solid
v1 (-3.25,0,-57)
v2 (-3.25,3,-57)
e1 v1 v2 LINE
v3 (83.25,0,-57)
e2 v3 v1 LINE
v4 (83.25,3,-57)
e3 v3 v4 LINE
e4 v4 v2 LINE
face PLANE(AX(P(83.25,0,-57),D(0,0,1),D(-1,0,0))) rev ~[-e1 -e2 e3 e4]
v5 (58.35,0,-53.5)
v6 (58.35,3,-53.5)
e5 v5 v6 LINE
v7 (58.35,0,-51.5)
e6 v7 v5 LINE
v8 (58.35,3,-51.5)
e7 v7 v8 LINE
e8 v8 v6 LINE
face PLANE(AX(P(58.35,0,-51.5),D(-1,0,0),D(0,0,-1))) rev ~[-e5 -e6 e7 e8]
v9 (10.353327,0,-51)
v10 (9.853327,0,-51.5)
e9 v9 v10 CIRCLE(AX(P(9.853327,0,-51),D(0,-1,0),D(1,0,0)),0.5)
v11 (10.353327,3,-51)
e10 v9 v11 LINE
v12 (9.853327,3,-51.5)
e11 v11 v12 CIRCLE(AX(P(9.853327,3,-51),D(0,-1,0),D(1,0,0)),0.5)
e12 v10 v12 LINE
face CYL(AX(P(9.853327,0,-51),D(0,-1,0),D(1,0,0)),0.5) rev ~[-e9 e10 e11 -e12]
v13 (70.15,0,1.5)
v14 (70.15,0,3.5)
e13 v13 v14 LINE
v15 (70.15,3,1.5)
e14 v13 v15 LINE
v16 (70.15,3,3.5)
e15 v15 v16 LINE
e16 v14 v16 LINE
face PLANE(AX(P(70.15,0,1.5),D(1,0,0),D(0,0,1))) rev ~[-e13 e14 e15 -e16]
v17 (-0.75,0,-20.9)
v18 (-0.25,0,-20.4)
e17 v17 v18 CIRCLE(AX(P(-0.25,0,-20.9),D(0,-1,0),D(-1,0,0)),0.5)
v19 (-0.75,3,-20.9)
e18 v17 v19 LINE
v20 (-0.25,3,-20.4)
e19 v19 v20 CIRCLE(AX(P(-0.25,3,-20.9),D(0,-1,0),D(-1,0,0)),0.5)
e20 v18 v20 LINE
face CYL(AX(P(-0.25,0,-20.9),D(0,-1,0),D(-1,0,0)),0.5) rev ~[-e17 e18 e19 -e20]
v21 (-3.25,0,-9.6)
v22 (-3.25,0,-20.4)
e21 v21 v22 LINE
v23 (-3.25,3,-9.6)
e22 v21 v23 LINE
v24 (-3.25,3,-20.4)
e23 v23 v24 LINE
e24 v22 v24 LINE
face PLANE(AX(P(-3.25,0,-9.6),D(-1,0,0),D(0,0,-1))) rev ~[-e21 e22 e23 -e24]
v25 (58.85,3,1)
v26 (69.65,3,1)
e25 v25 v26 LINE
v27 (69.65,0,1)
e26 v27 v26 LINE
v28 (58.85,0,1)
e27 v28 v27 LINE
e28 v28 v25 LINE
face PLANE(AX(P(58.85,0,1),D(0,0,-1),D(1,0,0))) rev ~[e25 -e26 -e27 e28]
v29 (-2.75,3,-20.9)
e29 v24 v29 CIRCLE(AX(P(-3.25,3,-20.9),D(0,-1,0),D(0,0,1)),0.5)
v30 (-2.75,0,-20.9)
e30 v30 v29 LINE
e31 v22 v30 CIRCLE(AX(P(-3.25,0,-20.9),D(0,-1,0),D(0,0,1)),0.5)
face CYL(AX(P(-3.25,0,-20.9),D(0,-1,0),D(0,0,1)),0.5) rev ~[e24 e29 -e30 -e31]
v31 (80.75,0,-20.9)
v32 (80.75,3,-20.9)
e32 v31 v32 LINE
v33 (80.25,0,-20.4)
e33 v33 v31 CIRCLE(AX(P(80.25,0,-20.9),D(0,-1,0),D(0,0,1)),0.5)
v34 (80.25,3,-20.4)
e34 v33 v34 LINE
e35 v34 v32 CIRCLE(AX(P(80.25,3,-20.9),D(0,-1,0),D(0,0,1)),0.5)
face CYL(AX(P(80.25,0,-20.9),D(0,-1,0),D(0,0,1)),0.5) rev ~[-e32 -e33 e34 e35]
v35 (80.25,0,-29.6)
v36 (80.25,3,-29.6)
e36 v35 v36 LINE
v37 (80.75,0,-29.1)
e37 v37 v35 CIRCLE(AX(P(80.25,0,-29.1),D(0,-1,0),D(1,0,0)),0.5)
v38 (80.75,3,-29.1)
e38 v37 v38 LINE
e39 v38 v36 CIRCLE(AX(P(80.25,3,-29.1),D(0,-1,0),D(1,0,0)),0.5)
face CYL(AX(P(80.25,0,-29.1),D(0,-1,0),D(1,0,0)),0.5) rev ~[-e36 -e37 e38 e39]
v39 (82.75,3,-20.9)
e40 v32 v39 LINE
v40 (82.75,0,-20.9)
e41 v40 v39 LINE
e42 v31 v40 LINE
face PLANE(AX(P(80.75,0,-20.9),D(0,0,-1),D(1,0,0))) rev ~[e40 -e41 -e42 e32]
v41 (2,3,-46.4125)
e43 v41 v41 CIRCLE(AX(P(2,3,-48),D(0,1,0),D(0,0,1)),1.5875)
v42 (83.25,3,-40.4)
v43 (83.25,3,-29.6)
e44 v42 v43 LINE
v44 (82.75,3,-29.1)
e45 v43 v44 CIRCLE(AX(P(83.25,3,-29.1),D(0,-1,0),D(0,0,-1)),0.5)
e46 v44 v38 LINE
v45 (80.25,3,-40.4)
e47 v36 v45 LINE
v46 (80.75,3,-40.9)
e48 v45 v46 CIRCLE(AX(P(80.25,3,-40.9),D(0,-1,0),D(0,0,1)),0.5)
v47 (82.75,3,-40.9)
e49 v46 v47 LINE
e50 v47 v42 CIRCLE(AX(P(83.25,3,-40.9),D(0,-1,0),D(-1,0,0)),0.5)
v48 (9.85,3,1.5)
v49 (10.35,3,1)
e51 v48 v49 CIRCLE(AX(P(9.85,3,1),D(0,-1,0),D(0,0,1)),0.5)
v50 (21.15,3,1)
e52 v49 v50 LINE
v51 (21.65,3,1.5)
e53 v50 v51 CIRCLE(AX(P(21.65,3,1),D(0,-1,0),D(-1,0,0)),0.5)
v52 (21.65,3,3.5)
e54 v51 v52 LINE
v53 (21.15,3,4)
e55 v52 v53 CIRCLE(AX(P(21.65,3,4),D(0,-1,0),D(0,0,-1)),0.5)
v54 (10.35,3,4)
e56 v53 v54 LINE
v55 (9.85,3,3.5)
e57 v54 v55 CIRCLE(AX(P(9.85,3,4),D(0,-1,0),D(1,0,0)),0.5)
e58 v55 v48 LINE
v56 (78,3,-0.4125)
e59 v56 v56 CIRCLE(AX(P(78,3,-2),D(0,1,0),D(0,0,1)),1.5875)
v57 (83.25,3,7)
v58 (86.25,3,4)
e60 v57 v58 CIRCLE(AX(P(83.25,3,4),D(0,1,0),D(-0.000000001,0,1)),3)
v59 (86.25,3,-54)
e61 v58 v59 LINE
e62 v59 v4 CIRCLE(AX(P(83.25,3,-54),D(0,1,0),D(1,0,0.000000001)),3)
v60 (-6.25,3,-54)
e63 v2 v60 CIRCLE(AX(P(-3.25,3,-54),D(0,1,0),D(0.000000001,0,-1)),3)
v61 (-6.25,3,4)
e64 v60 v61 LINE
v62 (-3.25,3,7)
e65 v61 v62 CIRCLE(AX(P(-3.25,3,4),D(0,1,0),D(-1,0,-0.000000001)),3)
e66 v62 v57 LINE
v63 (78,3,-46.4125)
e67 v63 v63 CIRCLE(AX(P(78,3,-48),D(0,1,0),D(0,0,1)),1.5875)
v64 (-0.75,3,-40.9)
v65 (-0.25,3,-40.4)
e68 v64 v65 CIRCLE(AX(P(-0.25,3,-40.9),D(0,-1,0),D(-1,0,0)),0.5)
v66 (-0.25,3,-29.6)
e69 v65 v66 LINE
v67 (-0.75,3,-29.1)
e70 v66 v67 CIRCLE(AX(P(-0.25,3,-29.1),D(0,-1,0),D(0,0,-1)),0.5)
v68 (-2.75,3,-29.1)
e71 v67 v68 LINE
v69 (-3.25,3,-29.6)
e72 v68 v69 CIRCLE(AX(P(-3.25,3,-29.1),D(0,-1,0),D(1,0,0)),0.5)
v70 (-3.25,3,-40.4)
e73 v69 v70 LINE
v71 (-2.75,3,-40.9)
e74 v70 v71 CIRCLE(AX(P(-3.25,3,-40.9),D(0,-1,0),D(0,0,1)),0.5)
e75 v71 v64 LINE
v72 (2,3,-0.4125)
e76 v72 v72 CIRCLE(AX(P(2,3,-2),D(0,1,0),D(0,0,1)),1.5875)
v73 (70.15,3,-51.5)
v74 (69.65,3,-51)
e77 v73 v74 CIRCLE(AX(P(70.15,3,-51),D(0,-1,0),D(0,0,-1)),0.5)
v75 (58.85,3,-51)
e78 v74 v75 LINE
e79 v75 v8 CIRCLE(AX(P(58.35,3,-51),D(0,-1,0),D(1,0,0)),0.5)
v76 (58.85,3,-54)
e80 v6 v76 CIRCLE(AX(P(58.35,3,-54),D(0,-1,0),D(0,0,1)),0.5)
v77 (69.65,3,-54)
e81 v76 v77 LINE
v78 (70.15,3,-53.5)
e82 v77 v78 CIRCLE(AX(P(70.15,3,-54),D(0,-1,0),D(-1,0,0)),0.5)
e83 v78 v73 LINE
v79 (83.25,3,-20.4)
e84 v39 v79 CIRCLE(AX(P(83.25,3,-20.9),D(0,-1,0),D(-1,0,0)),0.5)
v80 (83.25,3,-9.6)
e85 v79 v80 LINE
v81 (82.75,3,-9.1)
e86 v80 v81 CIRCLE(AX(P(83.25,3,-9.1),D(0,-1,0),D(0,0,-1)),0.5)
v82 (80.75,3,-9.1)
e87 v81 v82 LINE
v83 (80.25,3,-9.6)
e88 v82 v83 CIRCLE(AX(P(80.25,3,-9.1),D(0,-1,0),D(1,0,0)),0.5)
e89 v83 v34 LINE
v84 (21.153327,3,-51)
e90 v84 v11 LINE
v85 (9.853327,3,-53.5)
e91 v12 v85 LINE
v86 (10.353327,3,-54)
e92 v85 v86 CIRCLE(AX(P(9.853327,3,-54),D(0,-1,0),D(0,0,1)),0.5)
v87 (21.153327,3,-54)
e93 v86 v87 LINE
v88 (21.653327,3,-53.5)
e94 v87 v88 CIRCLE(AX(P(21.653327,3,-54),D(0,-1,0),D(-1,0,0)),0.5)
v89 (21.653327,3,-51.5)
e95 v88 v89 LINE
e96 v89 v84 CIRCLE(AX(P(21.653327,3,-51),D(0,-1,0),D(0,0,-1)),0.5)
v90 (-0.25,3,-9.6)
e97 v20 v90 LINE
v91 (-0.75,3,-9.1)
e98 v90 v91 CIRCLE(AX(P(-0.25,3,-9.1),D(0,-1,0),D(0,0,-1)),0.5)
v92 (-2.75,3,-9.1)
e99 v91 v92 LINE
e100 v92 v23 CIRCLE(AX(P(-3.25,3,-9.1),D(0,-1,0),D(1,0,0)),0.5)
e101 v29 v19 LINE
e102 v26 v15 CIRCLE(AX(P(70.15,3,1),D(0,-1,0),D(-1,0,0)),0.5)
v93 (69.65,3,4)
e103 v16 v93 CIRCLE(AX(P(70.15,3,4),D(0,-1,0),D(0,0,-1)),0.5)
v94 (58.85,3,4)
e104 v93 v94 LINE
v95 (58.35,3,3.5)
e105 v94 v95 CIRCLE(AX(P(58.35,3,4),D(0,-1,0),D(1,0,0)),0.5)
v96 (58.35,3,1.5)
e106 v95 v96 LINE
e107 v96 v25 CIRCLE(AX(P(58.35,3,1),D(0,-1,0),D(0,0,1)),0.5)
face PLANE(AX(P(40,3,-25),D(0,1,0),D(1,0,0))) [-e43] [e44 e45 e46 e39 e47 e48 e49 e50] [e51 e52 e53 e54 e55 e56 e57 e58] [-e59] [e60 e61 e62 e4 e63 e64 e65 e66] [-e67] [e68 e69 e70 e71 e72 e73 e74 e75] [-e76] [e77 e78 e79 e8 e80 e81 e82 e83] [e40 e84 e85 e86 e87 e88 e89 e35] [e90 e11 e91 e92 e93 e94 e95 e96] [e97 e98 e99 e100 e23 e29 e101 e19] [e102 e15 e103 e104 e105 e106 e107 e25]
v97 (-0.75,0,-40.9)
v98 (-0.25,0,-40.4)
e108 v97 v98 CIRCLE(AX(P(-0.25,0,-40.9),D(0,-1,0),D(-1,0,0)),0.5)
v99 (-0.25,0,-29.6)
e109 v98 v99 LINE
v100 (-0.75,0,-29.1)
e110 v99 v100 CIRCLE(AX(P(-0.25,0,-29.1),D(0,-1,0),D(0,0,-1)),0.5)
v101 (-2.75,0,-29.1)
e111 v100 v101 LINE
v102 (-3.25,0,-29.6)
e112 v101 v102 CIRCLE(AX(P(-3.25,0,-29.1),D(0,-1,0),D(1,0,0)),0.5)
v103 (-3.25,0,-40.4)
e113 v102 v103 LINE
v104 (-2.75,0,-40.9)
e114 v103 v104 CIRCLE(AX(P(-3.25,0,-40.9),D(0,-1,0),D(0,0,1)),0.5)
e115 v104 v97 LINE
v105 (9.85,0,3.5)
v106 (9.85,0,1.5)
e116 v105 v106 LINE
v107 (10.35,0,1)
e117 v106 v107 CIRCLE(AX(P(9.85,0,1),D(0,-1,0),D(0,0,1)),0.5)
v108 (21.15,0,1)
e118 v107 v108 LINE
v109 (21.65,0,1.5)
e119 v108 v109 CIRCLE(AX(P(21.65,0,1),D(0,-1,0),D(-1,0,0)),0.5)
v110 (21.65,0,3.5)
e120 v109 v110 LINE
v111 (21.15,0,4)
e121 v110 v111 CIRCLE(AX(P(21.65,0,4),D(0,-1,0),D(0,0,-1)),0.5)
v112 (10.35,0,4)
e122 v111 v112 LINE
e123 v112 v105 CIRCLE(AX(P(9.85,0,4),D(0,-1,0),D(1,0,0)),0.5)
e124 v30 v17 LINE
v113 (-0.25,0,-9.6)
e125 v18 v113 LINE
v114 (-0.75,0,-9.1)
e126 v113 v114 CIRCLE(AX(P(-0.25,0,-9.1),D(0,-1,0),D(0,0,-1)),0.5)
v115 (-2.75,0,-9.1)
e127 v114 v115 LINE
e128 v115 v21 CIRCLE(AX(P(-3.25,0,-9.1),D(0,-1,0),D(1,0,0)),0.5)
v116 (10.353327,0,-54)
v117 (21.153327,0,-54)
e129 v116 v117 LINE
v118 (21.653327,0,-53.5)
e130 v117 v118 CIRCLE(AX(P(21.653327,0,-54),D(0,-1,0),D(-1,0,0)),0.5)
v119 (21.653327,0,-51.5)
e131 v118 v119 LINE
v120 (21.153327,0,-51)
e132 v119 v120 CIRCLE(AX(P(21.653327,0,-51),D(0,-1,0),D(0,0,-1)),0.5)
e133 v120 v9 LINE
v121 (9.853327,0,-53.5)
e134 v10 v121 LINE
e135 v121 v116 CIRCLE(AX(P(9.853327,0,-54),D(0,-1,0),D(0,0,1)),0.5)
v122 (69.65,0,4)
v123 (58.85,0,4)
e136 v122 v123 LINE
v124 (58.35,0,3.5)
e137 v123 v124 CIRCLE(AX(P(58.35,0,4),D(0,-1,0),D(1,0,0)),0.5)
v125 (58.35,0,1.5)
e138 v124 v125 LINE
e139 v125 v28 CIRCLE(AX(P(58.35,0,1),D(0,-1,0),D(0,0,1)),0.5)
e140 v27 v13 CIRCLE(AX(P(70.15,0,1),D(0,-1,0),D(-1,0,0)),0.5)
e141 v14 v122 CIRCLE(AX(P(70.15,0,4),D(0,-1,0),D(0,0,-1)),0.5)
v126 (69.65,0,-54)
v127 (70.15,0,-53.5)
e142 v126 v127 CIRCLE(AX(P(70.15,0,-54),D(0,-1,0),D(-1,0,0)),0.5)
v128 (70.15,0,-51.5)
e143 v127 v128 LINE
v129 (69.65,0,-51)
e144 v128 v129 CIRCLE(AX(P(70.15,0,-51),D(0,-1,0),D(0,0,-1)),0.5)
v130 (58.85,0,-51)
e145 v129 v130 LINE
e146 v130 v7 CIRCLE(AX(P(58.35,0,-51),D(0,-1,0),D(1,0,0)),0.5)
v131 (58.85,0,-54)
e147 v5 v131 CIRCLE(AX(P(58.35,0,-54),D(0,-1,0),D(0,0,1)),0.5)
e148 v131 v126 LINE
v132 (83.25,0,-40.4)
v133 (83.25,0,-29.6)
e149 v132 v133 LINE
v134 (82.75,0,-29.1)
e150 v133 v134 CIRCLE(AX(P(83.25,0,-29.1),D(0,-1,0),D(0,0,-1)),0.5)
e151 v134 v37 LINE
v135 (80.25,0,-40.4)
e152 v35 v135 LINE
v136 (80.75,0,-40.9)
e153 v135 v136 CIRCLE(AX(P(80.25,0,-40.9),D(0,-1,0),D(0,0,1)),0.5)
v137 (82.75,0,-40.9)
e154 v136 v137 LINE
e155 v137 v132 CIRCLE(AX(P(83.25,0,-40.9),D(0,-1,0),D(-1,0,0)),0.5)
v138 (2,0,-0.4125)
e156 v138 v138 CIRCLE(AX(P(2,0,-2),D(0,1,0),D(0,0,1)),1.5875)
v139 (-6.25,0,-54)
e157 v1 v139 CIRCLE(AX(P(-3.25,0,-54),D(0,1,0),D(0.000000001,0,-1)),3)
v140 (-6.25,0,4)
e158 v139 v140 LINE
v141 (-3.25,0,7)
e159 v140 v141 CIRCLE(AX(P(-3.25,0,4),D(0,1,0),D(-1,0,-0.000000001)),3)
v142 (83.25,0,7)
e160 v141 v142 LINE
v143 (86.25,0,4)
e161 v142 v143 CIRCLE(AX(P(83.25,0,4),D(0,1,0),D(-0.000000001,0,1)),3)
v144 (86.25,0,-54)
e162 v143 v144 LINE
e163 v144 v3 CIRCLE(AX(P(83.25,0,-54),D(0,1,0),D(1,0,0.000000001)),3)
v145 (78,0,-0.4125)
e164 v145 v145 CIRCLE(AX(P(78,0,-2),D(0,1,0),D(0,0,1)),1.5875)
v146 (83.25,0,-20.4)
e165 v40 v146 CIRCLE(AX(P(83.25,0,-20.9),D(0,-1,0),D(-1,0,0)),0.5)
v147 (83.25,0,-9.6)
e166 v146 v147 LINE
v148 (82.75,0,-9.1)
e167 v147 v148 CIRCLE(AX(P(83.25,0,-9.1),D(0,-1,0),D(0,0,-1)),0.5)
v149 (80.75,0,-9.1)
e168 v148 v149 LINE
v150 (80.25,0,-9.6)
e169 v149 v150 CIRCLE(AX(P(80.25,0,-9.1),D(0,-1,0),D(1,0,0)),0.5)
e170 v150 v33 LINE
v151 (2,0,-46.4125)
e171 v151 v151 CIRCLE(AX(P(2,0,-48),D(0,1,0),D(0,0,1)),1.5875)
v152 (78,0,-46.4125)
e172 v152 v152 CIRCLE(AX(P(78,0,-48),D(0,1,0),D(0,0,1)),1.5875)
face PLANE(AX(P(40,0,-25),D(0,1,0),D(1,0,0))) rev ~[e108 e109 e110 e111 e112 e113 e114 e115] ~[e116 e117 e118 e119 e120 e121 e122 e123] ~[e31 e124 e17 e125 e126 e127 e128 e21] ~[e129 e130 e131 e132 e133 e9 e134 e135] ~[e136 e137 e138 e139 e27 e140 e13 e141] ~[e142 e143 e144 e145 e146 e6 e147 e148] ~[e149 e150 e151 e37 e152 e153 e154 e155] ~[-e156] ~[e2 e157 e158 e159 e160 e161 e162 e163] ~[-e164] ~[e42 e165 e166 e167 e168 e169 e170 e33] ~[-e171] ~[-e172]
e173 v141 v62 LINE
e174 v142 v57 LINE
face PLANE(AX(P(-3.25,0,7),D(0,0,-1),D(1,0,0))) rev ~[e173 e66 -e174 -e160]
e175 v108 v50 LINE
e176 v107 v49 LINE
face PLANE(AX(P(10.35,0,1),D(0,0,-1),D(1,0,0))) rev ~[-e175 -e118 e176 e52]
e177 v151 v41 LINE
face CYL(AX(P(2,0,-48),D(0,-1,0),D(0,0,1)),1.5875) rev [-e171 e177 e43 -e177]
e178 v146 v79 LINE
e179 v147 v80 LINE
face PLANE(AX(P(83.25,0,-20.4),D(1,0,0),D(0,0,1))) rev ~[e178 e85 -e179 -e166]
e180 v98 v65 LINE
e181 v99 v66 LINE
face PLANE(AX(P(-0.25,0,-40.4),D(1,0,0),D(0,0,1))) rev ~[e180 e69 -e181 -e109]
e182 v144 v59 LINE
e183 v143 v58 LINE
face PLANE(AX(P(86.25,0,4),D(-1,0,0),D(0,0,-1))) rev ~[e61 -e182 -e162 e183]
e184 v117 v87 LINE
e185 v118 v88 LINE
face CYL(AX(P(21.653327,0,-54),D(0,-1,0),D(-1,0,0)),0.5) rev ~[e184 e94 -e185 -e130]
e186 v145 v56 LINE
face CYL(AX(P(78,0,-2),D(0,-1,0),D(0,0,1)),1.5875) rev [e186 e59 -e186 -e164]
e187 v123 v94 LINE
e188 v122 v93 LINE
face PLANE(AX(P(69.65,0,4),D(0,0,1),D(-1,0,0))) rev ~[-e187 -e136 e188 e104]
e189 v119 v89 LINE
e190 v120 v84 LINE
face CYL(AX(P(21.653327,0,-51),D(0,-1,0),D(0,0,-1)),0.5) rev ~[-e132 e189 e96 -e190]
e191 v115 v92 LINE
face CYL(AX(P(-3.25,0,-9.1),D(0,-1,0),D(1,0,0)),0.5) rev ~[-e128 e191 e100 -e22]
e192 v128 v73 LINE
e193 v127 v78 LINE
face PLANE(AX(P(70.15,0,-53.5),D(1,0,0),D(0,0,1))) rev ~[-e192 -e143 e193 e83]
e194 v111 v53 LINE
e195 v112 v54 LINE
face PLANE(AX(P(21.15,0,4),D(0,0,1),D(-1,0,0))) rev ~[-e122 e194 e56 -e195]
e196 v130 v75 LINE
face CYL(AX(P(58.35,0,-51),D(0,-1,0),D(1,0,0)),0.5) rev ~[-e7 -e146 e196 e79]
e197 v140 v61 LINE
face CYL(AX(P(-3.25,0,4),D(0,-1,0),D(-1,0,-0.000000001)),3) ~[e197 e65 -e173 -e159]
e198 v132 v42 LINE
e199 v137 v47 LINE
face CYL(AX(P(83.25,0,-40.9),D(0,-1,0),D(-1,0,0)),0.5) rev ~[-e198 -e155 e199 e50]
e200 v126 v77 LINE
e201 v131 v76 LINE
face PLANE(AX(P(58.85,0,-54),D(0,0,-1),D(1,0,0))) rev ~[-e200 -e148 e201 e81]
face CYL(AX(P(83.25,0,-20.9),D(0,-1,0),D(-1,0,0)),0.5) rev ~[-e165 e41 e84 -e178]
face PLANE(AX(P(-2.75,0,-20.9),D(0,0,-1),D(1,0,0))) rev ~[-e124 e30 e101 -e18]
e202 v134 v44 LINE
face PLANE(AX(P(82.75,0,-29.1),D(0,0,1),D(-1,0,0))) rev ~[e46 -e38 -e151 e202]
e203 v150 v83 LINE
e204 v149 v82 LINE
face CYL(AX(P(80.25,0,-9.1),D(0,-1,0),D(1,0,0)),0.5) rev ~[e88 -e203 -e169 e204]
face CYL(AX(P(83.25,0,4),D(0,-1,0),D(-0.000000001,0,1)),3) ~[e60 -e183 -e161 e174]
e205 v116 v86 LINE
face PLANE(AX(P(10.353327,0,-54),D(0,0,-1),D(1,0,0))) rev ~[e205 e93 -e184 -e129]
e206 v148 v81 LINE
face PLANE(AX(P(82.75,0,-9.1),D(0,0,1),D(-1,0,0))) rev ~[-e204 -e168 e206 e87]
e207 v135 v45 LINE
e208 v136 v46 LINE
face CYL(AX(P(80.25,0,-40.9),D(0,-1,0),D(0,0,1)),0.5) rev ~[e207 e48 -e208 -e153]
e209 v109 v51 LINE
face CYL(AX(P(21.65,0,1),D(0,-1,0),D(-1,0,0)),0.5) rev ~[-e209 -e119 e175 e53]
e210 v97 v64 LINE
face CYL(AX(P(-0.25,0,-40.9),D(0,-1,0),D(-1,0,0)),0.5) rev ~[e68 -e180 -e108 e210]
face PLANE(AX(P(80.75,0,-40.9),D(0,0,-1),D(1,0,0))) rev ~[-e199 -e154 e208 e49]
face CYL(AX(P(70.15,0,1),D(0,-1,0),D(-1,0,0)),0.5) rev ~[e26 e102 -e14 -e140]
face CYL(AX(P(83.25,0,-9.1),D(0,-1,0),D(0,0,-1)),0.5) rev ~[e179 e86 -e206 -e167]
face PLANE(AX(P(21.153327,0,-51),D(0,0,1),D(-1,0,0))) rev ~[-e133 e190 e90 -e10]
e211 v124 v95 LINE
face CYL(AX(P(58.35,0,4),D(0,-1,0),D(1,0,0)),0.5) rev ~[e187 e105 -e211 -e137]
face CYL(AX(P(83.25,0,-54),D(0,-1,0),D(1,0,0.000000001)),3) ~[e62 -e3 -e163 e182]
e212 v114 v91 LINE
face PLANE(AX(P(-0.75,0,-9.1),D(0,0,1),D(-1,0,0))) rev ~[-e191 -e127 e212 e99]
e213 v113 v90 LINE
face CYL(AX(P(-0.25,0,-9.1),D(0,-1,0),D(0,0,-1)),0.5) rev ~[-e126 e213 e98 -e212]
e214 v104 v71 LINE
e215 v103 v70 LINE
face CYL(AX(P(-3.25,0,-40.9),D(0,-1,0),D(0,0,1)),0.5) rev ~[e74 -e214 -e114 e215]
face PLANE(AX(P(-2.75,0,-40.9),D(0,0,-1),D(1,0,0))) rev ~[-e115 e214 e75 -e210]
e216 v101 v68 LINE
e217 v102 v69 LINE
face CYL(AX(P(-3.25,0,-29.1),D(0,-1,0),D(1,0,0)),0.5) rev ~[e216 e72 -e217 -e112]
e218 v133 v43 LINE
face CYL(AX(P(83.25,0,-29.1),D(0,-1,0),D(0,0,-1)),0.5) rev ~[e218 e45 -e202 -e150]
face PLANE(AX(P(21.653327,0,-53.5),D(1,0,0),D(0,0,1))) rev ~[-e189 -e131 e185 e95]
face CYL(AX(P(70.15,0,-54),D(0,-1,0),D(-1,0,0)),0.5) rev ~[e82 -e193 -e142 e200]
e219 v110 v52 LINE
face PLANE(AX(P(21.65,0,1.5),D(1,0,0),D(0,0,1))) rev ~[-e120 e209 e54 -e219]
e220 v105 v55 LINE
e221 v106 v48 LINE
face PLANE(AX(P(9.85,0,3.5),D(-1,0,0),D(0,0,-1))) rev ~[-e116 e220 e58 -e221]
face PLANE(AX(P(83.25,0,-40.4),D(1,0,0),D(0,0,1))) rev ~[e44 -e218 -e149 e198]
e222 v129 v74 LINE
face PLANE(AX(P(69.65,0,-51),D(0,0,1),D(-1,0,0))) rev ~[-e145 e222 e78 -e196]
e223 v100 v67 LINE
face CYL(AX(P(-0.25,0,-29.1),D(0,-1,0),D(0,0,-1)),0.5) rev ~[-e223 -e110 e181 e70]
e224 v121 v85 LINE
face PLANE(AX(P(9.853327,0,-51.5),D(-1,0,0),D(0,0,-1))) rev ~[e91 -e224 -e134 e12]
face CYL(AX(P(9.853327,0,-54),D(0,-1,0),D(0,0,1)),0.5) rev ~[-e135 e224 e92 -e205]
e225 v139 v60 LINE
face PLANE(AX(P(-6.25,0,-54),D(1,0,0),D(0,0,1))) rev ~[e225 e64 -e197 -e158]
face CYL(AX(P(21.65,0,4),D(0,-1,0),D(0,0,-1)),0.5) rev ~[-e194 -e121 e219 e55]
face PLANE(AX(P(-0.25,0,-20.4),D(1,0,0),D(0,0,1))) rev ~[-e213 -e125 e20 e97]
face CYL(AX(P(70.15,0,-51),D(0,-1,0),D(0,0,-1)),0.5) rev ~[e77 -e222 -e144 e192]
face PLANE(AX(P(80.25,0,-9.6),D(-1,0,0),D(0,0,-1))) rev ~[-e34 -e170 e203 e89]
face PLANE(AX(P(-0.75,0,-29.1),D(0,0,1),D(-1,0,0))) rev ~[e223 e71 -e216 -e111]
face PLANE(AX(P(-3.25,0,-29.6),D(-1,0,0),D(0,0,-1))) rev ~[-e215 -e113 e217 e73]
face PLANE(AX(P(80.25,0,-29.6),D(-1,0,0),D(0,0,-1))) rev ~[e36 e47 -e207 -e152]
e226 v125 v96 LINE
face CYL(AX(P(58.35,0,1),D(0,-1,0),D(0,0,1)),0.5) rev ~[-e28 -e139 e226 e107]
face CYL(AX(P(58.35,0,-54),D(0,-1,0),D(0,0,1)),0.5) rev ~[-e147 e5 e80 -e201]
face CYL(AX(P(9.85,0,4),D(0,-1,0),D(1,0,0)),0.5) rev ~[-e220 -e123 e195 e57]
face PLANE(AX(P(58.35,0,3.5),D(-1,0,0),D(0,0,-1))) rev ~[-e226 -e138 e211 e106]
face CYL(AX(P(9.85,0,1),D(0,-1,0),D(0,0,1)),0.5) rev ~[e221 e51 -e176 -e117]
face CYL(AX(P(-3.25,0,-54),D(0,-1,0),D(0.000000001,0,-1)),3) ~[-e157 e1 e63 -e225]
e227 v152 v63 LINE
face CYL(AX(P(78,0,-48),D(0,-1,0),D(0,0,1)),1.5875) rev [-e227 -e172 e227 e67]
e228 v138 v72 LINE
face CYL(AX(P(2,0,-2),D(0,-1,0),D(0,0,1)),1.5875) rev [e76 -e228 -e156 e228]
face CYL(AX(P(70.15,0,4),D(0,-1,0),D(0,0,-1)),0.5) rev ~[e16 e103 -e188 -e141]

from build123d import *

# Parameters (mm, degrees)
SKETCH5_R           = 1.5875
BOSS_EXTRUDE1_DEPTH = 3


with BuildPart() as part:
    # Sketch5 → Boss-Extrude1 (new body)
    with BuildSketch(Plane(origin=(0, 0, 0), x_dir=(1, 0, 0), z_dir=(0, 1, 0))):
        with BuildLine():
            Line((-3.25, -7), (83.25, -7))
            ThreePointArc((83.25, -7), (85.371320344, -6.121320344), (86.25, -4))
            Line((86.25, -4), (86.25, 54))
            ThreePointArc((86.25, 54), (85.371320344, 56.121320344), (83.25, 57))
            Line((83.25, 57), (-3.25, 57))
            ThreePointArc((-3.25, 57), (-5.371320344, 56.121320344), (-6.25, 54))
            Line((-6.25, 54), (-6.25, -4))
            ThreePointArc((-6.25, -4), (-5.371320344, -6.121320344), (-3.25, -7))
        make_face()
        with Locations(Location((2, 2, 0), (0, 0, 270))):
            Circle(SKETCH5_R, mode=Mode.SUBTRACT)
        with Locations(Location((2, 48, 0), (0, 0, 270))):
            Circle(SKETCH5_R, mode=Mode.SUBTRACT)
        with Locations(Location((78, 48, 0), (0, 0, 270))):
            Circle(SKETCH5_R, mode=Mode.SUBTRACT)
        with Locations(Location((78, 2, 0), (0, 0, 270))):
            Circle(SKETCH5_R, mode=Mode.SUBTRACT)
        with BuildLine():
            Line((10.353326987, 54), (21.153326987, 54))
            ThreePointArc((21.153326987, 54), (22.006880378, 54.353553391), (21.653326987, 53.5))
            Line((21.653326987, 53.5), (21.653326987, 51.5))
            ThreePointArc((21.653326987, 51.5), (22.006880378, 50.646446609), (21.153326987, 51))
            Line((21.153326987, 51), (10.353326987, 51))
            ThreePointArc((10.353326987, 51), (9.499773597, 50.646446609), (9.853326987, 51.5))
            Line((9.853326987, 51.5), (9.853326987, 53.5))
            ThreePointArc((9.853326987, 53.5), (9.499773597, 54.353553391), (10.353326987, 54))
        make_face(mode=Mode.SUBTRACT)
        with BuildLine():
            Line((58.85, 54), (69.65, 54))
            ThreePointArc((69.65, 54), (70.503553391, 54.353553391), (70.15, 53.5))
            Line((70.15, 53.5), (70.15, 51.5))
            ThreePointArc((70.15, 51.5), (70.503553391, 50.646446609), (69.65, 51))
            Line((69.65, 51), (58.85, 51))
            ThreePointArc((58.85, 51), (57.996446609, 50.646446609), (58.35, 51.5))
            Line((58.35, 51.5), (58.35, 53.5))
            ThreePointArc((58.35, 53.5), (57.996446609, 54.353553391), (58.85, 54))
        make_face(mode=Mode.SUBTRACT)
        with BuildLine():
            Line((10.35, -1), (21.15, -1))
            ThreePointArc((21.15, -1), (22.003553391, -0.646446609), (21.65, -1.5))
            Line((21.65, -1.5), (21.65, -3.5))
            ThreePointArc((21.65, -3.5), (22.003553391, -4.353553391), (21.15, -4))
            Line((21.15, -4), (10.35, -4))
            ThreePointArc((10.35, -4), (9.496446609, -4.353553391), (9.85, -3.5))
            Line((9.85, -3.5), (9.85, -1.5))
            ThreePointArc((9.85, -1.5), (9.496446609, -0.646446609), (10.35, -1))
        make_face(mode=Mode.SUBTRACT)
        with BuildLine():
            Line((58.85, -1), (69.65, -1))
            ThreePointArc((69.65, -1), (70.503553391, -0.646446609), (70.15, -1.5))
            Line((70.15, -1.5), (70.15, -3.5))
            ThreePointArc((70.15, -3.5), (70.503553391, -4.353553391), (69.65, -4))
            Line((69.65, -4), (58.85, -4))
            ThreePointArc((58.85, -4), (57.996446609, -4.353553391), (58.35, -3.5))
            Line((58.35, -3.5), (58.35, -1.5))
            ThreePointArc((58.35, -1.5), (57.996446609, -0.646446609), (58.85, -1))
        make_face(mode=Mode.SUBTRACT)
        with BuildLine():
            Line((-3.25, 9.6), (-3.25, 20.4))
            ThreePointArc((-3.25, 20.4), (-3.603553391, 21.253553391), (-2.75, 20.9))
            Line((-2.75, 20.9), (-0.75, 20.9))
            ThreePointArc((-0.75, 20.9), (0.103553391, 21.253553391), (-0.25, 20.4))
            Line((-0.25, 20.4), (-0.25, 9.6))
            ThreePointArc((-0.25, 9.6), (0.103553391, 8.746446609), (-0.75, 9.1))
            Line((-0.75, 9.1), (-2.75, 9.1))
            ThreePointArc((-2.75, 9.1), (-3.603553391, 8.746446609), (-3.25, 9.6))
        make_face(mode=Mode.SUBTRACT)
        with BuildLine():
            Line((-3.25, 29.6), (-3.25, 40.4))
            ThreePointArc((-3.25, 40.4), (-3.603553391, 41.253553391), (-2.75, 40.9))
            Line((-2.75, 40.9), (-0.75, 40.9))
            ThreePointArc((-0.75, 40.9), (0.103553391, 41.253553391), (-0.25, 40.4))
            Line((-0.25, 40.4), (-0.25, 29.6))
            ThreePointArc((-0.25, 29.6), (0.103553391, 28.746446609), (-0.75, 29.1))
            Line((-0.75, 29.1), (-2.75, 29.1))
            ThreePointArc((-2.75, 29.1), (-3.603553391, 28.746446609), (-3.25, 29.6))
        make_face(mode=Mode.SUBTRACT)
        with BuildLine():
            Line((80.25, 9.6), (80.25, 20.4))
            ThreePointArc((80.25, 20.4), (79.896446609, 21.253553391), (80.75, 20.9))
            Line((80.75, 20.9), (82.75, 20.9))
            ThreePointArc((82.75, 20.9), (83.603553391, 21.253553391), (83.25, 20.4))
            Line((83.25, 20.4), (83.25, 9.6))
            ThreePointArc((83.25, 9.6), (83.603553391, 8.746446609), (82.75, 9.1))
            Line((82.75, 9.1), (80.75, 9.1))
            ThreePointArc((80.75, 9.1), (79.896446609, 8.746446609), (80.25, 9.6))
        make_face(mode=Mode.SUBTRACT)
        with BuildLine():
            Line((80.25, 29.6), (80.25, 40.4))
            ThreePointArc((80.25, 40.4), (79.896446609, 41.253553391), (80.75, 40.9))
            Line((80.75, 40.9), (82.75, 40.9))
            ThreePointArc((82.75, 40.9), (83.603553391, 41.253553391), (83.25, 40.4))
            Line((83.25, 40.4), (83.25, 29.6))
            ThreePointArc((83.25, 29.6), (83.603553391, 28.746446609), (82.75, 29.1))
            Line((82.75, 29.1), (80.75, 29.1))
            ThreePointArc((80.75, 29.1), (79.896446609, 28.746446609), (80.25, 29.6))
        make_face(mode=Mode.SUBTRACT)
    extrude(amount=BOSS_EXTRUDE1_DEPTH)


solid = part.part
